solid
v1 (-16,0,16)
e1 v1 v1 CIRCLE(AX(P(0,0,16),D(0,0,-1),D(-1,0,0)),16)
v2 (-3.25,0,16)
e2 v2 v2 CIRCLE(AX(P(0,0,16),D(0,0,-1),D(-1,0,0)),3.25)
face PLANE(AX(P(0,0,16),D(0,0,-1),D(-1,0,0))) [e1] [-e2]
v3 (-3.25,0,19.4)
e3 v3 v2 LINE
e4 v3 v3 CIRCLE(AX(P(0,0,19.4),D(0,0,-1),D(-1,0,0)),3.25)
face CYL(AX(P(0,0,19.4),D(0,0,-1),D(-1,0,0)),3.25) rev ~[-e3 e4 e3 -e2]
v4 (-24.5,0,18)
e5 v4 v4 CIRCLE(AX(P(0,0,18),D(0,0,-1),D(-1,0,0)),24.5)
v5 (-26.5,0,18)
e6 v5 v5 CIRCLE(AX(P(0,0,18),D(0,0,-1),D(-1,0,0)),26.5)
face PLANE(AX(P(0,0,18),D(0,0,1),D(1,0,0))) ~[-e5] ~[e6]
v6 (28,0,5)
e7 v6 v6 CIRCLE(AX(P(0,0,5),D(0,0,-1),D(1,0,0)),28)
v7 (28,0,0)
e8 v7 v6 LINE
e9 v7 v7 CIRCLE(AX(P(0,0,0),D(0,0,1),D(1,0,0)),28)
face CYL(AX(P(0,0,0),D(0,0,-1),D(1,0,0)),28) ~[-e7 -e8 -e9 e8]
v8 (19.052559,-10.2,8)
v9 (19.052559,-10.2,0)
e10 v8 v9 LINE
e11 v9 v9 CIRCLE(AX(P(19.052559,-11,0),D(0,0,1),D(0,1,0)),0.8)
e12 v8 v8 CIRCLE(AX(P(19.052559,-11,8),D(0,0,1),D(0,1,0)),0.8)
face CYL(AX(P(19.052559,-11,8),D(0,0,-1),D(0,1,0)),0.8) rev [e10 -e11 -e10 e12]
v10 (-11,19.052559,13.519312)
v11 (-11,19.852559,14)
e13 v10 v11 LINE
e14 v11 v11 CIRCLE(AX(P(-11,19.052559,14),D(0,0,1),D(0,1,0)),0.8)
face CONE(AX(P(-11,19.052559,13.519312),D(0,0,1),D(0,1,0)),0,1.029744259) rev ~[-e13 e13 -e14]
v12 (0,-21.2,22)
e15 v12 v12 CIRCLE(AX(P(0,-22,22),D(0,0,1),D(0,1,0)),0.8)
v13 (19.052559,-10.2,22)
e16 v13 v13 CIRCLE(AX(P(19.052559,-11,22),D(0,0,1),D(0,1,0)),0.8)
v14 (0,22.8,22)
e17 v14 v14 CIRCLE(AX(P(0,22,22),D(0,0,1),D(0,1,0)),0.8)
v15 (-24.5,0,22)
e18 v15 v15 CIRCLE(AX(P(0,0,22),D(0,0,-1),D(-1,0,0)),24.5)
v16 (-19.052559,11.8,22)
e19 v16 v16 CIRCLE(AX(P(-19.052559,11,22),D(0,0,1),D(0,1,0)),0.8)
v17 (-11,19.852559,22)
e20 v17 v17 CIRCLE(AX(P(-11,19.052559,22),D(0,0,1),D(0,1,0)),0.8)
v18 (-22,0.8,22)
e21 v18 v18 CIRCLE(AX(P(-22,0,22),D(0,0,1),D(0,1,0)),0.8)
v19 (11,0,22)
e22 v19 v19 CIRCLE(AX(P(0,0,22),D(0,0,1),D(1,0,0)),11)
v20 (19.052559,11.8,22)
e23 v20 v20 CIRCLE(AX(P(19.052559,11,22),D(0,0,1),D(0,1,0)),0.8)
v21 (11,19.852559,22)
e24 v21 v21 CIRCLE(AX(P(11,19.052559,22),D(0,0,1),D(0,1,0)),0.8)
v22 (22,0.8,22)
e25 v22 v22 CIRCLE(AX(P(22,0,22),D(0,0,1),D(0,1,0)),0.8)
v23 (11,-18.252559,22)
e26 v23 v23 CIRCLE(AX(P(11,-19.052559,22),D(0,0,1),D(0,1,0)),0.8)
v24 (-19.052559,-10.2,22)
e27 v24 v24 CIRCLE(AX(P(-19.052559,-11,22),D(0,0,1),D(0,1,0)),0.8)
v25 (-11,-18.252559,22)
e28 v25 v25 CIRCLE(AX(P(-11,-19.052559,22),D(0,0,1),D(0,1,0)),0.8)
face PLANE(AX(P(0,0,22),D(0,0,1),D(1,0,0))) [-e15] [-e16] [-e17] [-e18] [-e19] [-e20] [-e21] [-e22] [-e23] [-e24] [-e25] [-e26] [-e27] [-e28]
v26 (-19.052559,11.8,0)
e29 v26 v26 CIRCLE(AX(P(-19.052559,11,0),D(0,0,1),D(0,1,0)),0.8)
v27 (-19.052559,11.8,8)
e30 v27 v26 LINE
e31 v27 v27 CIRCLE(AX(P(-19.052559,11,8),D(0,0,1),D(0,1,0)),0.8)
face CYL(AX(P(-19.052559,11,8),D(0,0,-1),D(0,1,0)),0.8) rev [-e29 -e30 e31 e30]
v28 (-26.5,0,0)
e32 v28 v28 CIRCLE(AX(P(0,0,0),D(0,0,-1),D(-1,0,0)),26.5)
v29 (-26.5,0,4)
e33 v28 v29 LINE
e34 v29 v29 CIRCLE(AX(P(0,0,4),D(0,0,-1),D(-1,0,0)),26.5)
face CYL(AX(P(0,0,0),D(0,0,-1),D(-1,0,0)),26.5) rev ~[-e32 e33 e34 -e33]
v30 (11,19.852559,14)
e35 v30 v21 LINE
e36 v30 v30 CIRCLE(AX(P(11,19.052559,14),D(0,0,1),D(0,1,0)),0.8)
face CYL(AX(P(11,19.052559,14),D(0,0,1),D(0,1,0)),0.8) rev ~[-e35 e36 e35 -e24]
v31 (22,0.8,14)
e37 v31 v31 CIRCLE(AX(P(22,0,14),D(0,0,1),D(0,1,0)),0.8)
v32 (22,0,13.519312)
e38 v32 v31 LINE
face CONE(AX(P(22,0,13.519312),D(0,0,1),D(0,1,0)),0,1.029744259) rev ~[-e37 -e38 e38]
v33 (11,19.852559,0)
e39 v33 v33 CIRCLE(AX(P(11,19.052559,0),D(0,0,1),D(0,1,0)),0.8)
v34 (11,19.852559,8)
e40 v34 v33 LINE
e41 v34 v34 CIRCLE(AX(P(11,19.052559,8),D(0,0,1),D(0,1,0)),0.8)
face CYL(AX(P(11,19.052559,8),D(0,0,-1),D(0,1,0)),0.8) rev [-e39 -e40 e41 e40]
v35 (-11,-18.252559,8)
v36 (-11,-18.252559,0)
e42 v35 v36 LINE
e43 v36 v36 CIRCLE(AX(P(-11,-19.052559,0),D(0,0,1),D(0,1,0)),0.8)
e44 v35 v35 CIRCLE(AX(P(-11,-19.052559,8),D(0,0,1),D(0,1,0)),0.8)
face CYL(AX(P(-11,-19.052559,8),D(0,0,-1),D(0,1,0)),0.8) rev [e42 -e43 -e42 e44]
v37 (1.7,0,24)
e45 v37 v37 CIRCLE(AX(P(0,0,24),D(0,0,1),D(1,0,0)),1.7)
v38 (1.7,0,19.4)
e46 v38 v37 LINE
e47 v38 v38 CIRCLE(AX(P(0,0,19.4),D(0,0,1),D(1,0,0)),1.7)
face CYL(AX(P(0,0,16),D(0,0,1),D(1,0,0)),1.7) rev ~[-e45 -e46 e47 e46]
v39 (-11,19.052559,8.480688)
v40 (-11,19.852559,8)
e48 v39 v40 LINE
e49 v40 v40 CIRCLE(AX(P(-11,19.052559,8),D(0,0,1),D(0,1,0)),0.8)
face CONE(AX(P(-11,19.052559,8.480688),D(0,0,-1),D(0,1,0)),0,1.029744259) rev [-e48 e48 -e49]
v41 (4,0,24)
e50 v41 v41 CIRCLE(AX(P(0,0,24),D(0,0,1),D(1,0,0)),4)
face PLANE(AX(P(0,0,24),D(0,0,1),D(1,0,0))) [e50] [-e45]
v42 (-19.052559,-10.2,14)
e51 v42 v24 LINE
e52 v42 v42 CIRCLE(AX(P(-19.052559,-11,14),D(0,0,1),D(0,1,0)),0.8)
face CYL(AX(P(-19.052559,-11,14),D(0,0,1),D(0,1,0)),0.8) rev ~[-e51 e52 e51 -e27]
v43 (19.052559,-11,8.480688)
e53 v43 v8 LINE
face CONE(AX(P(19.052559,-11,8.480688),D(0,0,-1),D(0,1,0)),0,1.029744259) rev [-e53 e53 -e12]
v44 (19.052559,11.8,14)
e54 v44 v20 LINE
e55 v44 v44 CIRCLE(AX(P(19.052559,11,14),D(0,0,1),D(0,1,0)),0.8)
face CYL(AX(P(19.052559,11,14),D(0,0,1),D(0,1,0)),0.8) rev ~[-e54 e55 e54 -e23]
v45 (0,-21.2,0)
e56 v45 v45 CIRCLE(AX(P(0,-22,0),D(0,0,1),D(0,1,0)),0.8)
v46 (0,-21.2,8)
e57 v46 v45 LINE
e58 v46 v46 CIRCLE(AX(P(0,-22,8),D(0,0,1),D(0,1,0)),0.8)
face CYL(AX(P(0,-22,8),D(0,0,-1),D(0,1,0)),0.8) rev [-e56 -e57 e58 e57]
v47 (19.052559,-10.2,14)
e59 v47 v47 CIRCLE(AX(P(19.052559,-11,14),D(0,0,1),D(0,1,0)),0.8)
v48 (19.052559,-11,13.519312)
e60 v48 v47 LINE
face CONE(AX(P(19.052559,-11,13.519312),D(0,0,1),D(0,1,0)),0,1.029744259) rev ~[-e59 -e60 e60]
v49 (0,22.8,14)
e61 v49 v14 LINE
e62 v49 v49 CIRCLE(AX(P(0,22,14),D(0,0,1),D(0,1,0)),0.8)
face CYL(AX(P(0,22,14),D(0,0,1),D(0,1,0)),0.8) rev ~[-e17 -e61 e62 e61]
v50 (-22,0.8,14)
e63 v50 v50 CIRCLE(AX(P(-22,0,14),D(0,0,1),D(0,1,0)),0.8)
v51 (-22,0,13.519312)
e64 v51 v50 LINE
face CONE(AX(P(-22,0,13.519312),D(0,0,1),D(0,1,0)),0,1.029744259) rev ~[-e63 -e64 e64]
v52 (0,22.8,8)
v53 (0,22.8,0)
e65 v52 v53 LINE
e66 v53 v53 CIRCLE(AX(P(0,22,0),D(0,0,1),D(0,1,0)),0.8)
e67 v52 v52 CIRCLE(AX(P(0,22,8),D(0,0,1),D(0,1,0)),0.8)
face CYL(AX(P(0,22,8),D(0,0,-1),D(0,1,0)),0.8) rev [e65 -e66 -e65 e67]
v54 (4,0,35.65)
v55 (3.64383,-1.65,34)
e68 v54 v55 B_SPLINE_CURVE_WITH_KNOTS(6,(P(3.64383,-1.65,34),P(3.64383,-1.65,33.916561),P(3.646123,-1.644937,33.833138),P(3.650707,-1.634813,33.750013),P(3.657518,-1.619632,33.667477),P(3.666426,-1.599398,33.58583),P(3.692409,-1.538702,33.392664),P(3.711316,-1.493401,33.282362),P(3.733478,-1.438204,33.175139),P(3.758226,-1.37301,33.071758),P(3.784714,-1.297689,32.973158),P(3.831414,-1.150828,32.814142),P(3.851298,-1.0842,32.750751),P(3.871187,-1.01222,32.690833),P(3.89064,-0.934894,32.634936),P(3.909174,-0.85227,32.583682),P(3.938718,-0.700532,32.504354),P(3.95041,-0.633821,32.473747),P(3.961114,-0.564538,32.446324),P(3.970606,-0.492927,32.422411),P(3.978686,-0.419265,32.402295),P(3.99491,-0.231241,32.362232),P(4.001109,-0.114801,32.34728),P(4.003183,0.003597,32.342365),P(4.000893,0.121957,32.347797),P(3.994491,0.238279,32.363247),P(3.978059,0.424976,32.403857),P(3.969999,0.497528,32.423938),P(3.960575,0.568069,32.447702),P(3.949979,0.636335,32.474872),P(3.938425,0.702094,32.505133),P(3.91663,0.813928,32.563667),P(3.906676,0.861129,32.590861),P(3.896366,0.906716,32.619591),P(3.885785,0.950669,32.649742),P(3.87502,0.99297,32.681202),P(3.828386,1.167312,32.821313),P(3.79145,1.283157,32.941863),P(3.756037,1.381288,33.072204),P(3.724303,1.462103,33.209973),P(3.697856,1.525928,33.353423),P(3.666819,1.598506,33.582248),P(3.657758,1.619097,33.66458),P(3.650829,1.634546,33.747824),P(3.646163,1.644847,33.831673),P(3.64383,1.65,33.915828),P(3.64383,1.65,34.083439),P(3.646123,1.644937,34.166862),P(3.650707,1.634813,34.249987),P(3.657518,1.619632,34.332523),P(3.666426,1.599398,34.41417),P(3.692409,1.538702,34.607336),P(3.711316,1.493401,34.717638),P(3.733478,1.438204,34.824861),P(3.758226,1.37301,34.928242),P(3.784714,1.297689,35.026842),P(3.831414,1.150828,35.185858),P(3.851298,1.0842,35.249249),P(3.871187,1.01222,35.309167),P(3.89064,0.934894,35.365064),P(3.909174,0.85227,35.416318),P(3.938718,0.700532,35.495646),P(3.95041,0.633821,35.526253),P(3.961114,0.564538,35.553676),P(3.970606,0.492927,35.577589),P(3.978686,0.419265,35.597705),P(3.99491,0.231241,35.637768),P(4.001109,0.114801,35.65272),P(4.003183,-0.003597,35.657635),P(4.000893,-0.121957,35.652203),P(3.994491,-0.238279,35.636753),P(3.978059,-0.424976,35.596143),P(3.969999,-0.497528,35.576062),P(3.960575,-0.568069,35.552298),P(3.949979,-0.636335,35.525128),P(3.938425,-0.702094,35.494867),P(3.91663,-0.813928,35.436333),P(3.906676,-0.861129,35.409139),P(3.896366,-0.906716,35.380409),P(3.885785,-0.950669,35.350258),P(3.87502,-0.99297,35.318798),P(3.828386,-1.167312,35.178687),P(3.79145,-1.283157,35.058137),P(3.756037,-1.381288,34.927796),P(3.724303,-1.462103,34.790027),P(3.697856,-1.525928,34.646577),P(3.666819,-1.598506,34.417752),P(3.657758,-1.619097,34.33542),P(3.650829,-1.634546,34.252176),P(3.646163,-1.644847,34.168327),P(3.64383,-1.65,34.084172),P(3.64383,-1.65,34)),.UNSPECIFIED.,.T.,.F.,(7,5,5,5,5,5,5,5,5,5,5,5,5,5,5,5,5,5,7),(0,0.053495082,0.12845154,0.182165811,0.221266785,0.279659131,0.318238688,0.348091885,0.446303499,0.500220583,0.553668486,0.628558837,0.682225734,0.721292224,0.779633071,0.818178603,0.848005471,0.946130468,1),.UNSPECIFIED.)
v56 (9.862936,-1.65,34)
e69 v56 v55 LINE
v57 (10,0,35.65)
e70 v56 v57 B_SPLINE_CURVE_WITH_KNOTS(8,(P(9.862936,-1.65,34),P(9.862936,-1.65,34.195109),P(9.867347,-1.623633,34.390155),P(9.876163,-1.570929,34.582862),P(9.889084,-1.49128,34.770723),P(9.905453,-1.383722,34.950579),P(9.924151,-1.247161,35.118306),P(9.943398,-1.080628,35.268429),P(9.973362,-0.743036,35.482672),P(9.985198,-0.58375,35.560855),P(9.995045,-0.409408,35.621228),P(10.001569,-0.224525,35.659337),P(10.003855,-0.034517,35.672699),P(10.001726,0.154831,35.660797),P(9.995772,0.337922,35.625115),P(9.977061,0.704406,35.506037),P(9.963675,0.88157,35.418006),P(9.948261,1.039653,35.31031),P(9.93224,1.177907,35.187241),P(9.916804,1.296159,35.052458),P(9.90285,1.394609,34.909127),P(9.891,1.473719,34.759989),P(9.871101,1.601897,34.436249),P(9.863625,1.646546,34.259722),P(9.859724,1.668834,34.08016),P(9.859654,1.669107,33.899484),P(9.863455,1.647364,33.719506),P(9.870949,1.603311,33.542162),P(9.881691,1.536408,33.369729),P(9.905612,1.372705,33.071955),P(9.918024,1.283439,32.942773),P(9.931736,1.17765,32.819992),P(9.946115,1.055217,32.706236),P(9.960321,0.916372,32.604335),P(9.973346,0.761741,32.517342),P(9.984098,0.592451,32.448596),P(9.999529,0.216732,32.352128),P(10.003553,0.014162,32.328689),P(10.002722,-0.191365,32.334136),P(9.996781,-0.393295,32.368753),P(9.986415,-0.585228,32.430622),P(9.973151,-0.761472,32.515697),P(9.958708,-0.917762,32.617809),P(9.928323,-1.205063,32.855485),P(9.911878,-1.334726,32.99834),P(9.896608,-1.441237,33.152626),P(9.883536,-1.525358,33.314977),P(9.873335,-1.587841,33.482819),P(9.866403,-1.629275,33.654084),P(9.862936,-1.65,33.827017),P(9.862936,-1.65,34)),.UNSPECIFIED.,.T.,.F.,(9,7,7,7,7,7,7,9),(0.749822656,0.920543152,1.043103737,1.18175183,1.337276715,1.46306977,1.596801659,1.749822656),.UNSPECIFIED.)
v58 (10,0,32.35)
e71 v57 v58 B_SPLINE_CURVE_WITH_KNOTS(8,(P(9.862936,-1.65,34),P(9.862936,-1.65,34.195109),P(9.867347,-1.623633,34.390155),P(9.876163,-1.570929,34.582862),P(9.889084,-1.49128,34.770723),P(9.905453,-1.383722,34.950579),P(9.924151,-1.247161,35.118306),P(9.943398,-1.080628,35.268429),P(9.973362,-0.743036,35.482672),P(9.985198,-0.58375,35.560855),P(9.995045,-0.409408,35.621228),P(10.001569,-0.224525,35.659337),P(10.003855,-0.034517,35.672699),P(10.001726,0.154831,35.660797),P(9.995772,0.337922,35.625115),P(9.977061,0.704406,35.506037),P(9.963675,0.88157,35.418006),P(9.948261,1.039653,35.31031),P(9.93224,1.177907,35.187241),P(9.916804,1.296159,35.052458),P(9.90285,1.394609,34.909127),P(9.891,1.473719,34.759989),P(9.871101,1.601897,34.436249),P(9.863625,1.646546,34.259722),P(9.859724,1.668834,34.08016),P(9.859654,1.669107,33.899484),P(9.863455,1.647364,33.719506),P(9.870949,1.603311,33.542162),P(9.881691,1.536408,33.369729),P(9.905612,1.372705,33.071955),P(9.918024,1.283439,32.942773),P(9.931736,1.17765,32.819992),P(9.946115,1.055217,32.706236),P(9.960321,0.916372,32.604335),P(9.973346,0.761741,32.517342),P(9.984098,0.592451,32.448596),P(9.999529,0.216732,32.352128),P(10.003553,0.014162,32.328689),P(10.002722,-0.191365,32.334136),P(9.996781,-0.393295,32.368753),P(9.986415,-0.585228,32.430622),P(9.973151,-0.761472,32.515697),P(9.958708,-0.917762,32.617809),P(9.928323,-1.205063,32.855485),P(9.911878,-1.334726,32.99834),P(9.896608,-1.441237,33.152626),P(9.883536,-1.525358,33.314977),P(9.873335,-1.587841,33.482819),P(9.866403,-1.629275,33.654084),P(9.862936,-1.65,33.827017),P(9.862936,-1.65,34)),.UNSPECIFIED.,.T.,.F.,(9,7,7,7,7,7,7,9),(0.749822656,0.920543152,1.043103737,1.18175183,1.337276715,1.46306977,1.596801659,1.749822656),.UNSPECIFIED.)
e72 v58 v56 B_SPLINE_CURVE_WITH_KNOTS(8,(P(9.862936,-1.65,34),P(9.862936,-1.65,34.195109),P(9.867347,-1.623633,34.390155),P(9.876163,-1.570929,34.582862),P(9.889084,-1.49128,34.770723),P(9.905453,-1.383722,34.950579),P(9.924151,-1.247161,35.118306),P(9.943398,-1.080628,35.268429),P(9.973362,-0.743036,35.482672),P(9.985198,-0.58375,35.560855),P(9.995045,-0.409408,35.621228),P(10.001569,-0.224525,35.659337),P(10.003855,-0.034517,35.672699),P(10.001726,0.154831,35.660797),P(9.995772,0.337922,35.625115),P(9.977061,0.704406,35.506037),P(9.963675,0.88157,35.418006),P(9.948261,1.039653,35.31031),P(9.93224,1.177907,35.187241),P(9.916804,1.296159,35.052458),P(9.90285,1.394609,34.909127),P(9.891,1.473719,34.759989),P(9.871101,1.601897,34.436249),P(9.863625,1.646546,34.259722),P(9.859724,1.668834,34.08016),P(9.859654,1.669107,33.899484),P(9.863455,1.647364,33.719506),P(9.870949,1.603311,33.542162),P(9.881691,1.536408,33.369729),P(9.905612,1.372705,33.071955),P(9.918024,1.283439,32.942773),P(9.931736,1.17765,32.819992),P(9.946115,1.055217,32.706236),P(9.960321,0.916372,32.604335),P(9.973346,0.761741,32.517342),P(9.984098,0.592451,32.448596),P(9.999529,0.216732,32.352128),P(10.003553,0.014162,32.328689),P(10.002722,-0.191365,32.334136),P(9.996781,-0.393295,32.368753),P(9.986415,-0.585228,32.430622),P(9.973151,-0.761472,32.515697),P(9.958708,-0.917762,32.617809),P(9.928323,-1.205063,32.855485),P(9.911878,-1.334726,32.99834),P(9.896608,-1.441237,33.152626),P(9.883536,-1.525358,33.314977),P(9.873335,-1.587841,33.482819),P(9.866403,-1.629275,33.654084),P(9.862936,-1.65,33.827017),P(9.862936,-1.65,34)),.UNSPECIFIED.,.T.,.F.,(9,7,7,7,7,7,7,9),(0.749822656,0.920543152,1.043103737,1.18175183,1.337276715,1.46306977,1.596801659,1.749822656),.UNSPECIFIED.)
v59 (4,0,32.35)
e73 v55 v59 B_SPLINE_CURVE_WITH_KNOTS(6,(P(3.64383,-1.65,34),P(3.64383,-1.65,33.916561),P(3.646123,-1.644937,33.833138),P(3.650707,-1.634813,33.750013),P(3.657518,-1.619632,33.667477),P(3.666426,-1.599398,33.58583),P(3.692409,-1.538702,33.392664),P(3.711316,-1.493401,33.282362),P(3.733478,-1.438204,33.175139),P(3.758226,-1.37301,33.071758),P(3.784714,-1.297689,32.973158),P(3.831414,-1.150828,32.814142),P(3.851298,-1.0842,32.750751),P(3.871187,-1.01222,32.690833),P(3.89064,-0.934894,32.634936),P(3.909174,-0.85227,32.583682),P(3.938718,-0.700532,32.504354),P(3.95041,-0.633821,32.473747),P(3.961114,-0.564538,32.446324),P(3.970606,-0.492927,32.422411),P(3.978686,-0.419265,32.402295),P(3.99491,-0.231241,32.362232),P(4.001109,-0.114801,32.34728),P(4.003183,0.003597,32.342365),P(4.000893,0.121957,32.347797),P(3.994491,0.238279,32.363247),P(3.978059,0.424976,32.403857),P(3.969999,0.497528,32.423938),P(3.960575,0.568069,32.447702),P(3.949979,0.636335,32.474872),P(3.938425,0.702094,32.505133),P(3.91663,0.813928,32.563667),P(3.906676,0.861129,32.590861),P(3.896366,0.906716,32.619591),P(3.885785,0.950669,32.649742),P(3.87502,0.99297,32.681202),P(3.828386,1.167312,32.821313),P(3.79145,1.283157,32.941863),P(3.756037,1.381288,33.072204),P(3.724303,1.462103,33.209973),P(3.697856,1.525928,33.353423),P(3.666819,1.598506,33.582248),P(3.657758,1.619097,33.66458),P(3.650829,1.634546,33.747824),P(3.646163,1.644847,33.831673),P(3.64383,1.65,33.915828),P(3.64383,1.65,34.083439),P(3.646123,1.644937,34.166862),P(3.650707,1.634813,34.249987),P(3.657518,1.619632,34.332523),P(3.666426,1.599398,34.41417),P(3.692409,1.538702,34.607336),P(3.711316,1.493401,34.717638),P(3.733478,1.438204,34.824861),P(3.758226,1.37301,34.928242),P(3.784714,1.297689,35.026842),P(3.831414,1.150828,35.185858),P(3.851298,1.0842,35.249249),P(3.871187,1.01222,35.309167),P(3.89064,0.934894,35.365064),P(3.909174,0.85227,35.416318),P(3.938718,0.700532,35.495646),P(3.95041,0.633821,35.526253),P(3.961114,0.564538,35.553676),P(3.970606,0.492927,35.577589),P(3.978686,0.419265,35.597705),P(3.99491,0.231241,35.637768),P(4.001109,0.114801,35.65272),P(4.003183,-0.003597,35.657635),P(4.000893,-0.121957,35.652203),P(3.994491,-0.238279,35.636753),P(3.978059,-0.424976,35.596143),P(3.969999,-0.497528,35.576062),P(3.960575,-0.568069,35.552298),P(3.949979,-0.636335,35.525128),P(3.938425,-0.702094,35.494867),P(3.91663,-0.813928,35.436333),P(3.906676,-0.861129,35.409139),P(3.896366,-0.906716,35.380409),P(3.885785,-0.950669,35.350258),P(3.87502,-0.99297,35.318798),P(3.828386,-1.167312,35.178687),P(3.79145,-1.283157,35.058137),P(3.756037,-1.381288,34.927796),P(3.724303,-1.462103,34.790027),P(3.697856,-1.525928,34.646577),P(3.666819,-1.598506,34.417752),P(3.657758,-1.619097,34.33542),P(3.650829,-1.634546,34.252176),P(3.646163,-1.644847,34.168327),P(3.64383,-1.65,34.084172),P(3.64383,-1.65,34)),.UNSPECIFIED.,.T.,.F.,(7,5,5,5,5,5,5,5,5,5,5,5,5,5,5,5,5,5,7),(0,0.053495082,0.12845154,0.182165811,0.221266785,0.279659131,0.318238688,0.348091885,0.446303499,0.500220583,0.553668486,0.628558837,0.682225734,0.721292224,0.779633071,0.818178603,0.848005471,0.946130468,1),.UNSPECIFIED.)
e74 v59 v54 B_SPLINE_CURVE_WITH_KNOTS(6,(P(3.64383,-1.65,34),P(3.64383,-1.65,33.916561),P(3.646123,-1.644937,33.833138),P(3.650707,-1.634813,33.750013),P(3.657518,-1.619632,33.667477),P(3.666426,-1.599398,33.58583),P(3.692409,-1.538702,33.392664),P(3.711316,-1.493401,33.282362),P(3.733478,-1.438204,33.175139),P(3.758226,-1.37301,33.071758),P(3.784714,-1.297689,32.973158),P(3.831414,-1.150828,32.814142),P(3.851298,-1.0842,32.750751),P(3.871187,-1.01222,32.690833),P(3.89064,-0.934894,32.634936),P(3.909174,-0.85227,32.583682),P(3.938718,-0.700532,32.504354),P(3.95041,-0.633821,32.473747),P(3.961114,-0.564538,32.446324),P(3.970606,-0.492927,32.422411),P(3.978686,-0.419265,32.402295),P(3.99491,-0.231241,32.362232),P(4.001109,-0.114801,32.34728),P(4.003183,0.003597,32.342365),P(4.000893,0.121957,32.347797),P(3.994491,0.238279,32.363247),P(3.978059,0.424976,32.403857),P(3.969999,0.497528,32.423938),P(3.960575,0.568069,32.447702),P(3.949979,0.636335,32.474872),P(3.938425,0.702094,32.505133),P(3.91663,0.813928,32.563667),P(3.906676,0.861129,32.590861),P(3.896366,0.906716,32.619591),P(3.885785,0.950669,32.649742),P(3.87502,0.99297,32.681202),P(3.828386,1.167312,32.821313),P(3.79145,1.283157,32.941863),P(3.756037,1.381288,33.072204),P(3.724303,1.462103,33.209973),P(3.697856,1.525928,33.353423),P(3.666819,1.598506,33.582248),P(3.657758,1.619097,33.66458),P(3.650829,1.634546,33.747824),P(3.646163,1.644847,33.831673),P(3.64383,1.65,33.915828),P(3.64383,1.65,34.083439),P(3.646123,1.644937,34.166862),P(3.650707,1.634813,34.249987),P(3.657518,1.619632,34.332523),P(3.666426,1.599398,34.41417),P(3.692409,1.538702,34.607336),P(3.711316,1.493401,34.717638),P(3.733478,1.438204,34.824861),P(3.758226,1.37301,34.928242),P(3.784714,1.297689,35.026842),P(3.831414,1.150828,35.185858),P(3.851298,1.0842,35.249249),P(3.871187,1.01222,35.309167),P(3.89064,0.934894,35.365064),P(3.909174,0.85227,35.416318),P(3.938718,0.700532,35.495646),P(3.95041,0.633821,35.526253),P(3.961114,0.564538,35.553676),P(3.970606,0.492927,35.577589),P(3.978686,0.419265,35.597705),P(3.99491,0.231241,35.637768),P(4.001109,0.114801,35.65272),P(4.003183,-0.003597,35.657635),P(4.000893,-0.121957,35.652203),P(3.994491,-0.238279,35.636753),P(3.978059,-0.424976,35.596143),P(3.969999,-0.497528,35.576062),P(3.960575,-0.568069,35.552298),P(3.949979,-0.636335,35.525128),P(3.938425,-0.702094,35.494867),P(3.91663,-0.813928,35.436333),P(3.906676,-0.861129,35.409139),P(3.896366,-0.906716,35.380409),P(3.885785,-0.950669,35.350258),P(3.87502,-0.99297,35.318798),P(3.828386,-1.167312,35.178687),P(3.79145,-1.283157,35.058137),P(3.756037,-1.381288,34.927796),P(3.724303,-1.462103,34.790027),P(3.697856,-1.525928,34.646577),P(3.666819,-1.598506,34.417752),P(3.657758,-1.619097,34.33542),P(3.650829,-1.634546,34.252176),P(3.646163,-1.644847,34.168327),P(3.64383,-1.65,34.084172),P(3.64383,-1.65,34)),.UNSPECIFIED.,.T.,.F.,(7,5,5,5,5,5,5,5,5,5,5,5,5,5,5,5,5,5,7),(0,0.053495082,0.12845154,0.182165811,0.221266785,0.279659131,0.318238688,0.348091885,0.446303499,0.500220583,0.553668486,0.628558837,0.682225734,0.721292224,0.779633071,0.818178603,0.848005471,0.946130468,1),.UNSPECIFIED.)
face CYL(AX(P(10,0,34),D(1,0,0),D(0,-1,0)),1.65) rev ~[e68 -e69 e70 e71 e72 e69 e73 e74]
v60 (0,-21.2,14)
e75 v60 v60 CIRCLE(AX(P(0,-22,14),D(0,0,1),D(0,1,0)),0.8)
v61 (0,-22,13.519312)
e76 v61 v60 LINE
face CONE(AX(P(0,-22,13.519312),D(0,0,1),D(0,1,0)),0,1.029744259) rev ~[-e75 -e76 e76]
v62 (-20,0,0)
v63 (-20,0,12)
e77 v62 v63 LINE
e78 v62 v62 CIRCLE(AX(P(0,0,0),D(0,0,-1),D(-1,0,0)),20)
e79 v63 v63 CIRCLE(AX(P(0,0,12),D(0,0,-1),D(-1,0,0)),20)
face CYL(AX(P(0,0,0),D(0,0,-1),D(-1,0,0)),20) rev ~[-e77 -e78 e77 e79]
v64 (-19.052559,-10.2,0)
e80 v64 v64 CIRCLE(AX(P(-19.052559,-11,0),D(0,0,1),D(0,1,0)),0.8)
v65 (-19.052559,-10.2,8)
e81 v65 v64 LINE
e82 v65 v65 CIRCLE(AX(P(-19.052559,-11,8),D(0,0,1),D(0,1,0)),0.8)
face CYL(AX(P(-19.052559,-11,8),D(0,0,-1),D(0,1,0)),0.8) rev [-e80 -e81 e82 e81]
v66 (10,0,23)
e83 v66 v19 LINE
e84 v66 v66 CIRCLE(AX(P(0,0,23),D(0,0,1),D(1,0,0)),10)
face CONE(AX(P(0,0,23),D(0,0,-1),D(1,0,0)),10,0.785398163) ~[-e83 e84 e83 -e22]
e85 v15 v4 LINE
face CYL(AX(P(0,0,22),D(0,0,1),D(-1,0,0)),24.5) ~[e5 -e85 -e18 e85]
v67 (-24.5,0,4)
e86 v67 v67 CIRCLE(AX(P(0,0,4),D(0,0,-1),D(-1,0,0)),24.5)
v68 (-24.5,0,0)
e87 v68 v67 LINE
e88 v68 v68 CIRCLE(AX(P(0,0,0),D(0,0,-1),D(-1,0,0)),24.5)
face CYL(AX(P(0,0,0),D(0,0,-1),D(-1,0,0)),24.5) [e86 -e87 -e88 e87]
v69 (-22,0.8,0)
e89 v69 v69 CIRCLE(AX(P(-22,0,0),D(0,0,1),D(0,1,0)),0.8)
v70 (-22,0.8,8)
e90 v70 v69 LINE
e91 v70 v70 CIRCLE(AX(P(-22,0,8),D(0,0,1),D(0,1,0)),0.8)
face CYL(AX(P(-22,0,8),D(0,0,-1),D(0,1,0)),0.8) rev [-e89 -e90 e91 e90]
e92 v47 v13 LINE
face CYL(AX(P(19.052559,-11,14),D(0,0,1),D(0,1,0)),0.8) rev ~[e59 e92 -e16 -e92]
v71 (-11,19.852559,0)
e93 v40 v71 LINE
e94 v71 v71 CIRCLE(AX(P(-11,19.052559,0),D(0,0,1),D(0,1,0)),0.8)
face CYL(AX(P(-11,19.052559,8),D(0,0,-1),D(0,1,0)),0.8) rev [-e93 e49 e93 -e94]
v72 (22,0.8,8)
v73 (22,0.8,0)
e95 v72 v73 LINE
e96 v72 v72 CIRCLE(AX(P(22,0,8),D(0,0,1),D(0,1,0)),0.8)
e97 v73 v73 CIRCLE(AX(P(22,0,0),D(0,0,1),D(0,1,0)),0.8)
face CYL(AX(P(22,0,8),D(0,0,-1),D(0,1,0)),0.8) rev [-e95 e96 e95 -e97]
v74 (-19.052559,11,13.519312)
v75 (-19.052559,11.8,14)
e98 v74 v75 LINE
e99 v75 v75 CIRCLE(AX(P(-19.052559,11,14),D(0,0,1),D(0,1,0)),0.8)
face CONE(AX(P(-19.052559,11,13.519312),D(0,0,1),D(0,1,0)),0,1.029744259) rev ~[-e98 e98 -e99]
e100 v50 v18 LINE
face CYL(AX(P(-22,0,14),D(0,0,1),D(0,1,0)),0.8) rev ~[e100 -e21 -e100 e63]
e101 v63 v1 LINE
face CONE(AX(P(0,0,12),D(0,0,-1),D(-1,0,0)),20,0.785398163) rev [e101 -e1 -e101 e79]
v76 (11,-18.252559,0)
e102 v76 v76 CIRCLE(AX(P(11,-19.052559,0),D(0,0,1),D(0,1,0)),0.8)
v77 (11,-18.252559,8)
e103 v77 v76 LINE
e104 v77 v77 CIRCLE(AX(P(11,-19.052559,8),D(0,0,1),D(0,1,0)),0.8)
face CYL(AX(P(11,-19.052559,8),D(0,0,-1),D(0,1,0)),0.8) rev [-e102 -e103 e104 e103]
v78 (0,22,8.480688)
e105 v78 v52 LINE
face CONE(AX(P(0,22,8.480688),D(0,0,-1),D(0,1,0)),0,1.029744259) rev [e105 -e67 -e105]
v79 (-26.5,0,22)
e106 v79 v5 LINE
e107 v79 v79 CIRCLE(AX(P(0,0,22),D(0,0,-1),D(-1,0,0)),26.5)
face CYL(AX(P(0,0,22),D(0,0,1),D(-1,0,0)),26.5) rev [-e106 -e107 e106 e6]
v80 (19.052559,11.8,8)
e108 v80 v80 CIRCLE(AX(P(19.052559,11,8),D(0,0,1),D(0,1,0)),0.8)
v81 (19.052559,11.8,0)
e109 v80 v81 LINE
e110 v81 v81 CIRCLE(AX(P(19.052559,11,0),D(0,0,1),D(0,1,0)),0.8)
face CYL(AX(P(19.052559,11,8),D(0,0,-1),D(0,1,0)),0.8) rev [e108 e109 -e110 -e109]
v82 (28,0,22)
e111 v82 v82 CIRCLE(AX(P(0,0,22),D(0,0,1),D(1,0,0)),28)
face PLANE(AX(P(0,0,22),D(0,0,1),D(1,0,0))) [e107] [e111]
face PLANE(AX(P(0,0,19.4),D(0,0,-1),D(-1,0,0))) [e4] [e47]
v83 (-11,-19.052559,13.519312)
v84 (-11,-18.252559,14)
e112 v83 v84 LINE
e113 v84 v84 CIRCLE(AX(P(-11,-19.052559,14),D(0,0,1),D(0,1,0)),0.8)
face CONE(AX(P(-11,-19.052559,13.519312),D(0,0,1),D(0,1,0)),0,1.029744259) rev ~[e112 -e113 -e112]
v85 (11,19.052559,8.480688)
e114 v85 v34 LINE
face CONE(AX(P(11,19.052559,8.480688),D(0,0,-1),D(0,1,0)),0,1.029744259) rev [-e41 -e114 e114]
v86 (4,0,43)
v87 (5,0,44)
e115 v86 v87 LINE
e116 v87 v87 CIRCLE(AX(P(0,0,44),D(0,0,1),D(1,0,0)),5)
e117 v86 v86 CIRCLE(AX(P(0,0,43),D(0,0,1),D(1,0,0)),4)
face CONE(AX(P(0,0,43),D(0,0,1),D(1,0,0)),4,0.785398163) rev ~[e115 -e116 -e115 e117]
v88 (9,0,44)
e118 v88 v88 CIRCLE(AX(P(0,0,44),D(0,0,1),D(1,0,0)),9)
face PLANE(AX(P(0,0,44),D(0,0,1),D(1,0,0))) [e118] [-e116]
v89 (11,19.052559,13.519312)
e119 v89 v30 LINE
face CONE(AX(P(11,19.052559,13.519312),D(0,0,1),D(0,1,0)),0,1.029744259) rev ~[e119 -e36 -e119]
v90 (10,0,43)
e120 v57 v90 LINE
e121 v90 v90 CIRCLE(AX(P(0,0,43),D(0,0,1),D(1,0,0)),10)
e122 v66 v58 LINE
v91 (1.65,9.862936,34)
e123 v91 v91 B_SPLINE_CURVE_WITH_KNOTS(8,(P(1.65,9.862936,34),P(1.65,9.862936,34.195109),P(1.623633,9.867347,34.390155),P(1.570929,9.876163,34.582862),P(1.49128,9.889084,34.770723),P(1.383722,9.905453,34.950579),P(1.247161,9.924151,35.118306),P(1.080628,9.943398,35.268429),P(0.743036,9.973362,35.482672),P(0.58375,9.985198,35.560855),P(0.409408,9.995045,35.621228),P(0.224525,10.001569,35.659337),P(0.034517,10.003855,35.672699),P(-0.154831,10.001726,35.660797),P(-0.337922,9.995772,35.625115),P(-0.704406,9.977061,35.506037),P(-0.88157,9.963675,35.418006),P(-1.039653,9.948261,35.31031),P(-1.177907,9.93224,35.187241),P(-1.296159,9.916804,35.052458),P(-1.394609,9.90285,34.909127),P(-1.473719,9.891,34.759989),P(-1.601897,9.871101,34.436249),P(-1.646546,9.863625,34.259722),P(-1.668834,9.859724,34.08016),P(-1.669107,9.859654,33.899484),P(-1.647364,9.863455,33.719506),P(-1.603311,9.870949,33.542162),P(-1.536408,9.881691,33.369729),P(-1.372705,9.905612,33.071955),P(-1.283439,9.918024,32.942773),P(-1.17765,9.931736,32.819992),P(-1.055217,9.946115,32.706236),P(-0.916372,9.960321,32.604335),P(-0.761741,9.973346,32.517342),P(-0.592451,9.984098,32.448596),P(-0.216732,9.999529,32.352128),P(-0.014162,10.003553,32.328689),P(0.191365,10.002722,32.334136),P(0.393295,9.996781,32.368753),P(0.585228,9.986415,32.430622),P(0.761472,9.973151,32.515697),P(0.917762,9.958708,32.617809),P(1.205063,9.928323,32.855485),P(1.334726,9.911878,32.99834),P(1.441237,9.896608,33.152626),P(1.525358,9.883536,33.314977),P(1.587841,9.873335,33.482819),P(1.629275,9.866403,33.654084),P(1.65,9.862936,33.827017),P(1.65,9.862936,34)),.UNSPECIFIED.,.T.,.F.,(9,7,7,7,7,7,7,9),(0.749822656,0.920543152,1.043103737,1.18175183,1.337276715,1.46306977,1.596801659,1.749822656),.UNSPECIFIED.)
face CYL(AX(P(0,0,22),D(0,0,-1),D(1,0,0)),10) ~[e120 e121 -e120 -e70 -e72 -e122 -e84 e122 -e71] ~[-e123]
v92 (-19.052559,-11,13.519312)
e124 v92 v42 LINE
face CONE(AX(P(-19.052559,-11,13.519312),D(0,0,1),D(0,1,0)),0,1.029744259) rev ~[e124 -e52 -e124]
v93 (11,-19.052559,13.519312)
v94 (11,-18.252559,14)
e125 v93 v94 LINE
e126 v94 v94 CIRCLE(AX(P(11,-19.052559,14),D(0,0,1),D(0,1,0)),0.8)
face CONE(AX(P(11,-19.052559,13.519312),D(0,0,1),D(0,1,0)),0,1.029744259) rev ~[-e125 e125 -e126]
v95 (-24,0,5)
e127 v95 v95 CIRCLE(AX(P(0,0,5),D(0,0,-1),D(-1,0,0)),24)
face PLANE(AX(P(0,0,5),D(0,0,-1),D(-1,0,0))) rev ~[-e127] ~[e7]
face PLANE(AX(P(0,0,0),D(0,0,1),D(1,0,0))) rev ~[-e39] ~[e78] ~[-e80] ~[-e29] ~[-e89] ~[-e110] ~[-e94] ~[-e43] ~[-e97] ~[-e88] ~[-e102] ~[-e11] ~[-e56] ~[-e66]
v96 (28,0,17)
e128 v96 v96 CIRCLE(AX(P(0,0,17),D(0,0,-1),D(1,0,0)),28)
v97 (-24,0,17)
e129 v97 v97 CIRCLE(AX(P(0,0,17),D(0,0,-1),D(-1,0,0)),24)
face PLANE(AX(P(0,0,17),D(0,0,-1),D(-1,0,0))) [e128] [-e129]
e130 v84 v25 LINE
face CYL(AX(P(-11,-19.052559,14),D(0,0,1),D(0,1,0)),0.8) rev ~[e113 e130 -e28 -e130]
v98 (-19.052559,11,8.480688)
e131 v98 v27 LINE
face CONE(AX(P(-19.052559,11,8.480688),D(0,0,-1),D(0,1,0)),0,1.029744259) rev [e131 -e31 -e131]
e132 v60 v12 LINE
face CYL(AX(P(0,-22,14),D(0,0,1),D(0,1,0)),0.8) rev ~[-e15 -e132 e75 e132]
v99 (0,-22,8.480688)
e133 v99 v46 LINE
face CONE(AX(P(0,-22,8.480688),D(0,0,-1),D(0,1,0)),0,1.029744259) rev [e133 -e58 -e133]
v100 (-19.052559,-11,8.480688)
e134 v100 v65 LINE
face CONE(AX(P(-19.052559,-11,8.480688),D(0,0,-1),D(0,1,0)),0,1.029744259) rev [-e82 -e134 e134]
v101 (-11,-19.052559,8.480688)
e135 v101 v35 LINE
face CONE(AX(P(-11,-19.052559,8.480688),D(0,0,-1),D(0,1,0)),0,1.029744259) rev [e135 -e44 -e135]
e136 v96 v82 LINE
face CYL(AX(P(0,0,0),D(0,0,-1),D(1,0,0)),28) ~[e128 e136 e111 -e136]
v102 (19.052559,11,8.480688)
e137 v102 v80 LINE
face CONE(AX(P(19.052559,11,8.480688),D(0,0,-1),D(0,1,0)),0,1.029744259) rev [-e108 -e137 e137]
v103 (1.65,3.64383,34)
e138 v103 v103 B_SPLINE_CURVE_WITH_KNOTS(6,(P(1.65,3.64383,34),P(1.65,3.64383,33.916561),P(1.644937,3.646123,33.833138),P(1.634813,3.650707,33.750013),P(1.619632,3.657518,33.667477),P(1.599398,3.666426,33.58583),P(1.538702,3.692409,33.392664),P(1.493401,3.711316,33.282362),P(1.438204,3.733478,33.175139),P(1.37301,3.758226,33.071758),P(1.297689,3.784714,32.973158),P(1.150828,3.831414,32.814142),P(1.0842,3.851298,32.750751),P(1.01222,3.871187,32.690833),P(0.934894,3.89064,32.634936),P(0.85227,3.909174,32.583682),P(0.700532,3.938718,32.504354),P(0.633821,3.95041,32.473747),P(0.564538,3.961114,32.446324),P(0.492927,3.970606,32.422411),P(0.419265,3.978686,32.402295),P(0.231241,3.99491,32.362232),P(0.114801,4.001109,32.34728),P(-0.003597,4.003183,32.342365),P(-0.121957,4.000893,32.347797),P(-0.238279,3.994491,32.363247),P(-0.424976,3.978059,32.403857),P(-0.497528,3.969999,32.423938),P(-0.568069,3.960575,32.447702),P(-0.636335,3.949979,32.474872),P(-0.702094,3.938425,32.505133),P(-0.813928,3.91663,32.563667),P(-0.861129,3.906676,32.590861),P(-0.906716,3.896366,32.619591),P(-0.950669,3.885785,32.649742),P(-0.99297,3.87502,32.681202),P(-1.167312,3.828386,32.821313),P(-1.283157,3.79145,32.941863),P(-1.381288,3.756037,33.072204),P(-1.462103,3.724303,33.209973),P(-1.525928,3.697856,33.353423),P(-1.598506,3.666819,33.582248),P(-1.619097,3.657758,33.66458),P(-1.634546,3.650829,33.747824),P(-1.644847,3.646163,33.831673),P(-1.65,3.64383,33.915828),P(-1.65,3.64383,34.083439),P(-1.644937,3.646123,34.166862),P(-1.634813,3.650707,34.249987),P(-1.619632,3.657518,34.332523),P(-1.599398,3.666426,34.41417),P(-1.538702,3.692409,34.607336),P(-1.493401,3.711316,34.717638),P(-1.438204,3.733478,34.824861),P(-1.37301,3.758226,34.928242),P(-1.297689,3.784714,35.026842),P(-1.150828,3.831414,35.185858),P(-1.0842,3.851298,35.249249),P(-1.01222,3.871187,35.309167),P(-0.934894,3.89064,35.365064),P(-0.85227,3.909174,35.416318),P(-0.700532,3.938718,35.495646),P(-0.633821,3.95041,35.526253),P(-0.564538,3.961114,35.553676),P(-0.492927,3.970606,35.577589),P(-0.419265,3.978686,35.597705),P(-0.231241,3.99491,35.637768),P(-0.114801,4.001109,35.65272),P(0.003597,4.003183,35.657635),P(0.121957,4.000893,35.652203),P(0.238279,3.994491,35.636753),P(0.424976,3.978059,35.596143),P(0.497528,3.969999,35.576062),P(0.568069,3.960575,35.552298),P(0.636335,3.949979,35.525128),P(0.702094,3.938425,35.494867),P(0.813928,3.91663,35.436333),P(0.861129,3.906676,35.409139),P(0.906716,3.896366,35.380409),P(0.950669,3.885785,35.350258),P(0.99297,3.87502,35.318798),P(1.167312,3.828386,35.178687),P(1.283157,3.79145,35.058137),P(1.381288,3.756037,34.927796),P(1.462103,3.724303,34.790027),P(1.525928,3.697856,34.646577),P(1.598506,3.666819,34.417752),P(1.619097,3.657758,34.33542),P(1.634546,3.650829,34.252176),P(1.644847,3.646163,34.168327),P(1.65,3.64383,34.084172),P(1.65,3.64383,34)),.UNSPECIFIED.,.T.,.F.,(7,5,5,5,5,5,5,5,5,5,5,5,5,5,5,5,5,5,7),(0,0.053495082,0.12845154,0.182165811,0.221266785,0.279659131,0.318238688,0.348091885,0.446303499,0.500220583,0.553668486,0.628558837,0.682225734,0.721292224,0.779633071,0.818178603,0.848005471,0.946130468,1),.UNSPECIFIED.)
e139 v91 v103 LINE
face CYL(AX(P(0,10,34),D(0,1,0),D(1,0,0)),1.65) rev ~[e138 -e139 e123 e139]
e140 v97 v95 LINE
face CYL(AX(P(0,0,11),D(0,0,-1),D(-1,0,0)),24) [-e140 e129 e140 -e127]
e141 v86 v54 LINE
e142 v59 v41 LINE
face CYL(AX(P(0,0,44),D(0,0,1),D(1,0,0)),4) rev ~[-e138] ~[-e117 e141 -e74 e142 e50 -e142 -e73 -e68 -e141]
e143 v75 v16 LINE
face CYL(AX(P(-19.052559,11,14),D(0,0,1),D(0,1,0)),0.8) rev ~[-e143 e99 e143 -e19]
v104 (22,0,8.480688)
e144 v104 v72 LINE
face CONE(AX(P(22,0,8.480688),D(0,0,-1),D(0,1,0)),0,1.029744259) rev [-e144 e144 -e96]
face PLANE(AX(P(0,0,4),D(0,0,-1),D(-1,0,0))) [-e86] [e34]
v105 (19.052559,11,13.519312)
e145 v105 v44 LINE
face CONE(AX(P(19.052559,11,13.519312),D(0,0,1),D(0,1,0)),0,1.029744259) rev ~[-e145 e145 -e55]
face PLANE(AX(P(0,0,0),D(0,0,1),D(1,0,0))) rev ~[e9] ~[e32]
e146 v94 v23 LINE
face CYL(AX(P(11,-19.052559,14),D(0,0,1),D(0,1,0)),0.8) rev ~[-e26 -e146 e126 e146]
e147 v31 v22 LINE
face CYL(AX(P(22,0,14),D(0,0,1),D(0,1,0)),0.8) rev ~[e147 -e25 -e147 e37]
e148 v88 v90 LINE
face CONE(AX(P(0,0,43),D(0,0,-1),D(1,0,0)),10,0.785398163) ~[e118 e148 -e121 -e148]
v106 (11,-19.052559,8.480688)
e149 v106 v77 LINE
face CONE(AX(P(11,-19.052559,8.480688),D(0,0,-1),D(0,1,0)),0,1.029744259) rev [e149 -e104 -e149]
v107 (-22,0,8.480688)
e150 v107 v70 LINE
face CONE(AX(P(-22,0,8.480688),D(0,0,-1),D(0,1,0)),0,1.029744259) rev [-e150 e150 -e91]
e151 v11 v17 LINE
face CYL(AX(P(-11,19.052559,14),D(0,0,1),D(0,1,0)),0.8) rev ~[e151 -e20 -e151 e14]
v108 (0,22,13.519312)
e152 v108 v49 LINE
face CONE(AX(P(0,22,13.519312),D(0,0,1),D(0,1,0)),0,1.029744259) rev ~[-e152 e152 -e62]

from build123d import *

# Parameters (mm, degrees)
SKETCH1_R                                           = 28
BOSS_EXTRUDE1_DEPTH                                 = 22
SKETCH2_R                                           = 10
BOSS_EXTRUDE2_DEPTH                                 = 22
SKETCH3_R                                           = 20
CUT_EXTRUDE1_DEPTH                                  = 16
CHAMFER1_SIZE                                       = 4
SKETCH4_R                                           = 4
CUT_EXTRUDE2_DEPTH                                  = 20
CBORE_FOR_M3_HEX_SOCKET_HEAD_CAP_SCREW1_D           = 3.4
CBORE_FOR_M3_HEX_SOCKET_HEAD_CAP_SCREW1_CBORE_D     = 6.5
CBORE_FOR_M3_HEX_SOCKET_HEAD_CAP_SCREW1_CBORE_DEPTH = 3.4
SKETCH7_R                                           = 26.5
SKETCH7_R_2                                         = 24.5
CUT_EXTRUDE3_DEPTH                                  = 4
M2_TAPPED_HOLE1_AT_2_COUNT                          = 2
M2_TAPPED_HOLE1_AT_2_PITCH                          = 11.388037985
M2_TAPPED_HOLE1_AT_3_COUNT                          = 2
M2_TAPPED_HOLE1_AT_3_PITCH                          = 22
M2_TAPPED_HOLE1_AT_4_COUNT                          = 2
M2_TAPPED_HOLE1_AT_4_PITCH                          = 31.112698372
M2_TAPPED_HOLE1_AT_5_COUNT                          = 2
M2_TAPPED_HOLE1_AT_5_PITCH                          = 38.105117767
M2_TAPPED_HOLE1_AT_6_COUNT                          = 2
M2_TAPPED_HOLE1_AT_6_PITCH                          = 42.500736357
M2_TAPPED_HOLE1_AT_7_COUNT                          = 2
M2_TAPPED_HOLE1_AT_7_PITCH                          = 44
M2_TAPPED_HOLE1_AT_8_COUNT                          = 2
M2_TAPPED_HOLE1_AT_8_PITCH                          = 42.500736357
M2_TAPPED_HOLE1_AT_9_COUNT                          = 2
M2_TAPPED_HOLE1_AT_9_PITCH                          = 38.105117767
M2_TAPPED_HOLE1_AT_10_COUNT                         = 2
M2_TAPPED_HOLE1_AT_10_PITCH                         = 31.112698372
M2_TAPPED_HOLE1_AT_11_COUNT                         = 2
M2_TAPPED_HOLE1_AT_11_PITCH                         = 22
M2_TAPPED_HOLE1_AT_12_COUNT                         = 2
M2_TAPPED_HOLE1_AT_12_PITCH                         = 11.388037985
SKETCH10_R                                          = 28
SKETCH10_R_2                                        = 24
CUT_EXTRUDE5_DEPTH                                  = 6
CUT_EXTRUDE5_DEPTH_BACK                             = 6
CHAMFER2_SIZE                                       = 1
M4_TAPPED_HOLE1_REACH                               = 60.172
M4_TAPPED_HOLE1_BORE_R                              = 1.65
CIRPATTERN1_COUNT                                   = 2
CIRPATTERN1_ANGLE                                   = 90


with BuildPart() as part:
    # Sketch1 → Boss-Extrude1 (new body)
    with BuildSketch(Plane.XY):
        Circle(SKETCH1_R)
    extrude(amount=BOSS_EXTRUDE1_DEPTH)

    # Sketch2 → Boss-Extrude2 (add)
    with BuildSketch(Plane.XY.offset(22)):
        Circle(SKETCH2_R)
    extrude(amount=BOSS_EXTRUDE2_DEPTH)

    # Sketch3 → Cut-Extrude1 (cut)
    with BuildSketch(Plane(origin=(0, 0, 0), x_dir=(-1, 0, 0), z_dir=(0, 0, -1))):
        Circle(SKETCH3_R)
    extrude(amount=-CUT_EXTRUDE1_DEPTH, mode=Mode.SUBTRACT)

    # Chamfer1
    chamfer1_edges = [part.edges().sort_by_distance(p)[0] for p in [
        (20, 0, 16),
    ]]
    chamfer(chamfer1_edges, length=CHAMFER1_SIZE)

    # Sketch4 → Cut-Extrude2 (cut)
    with BuildSketch(Plane.XY.offset(44)):
        Circle(SKETCH4_R)
    extrude(amount=-CUT_EXTRUDE2_DEPTH, mode=Mode.SUBTRACT)

    # CBORE for M3 Hex Socket Head Cap Screw1 (through all)
    with Locations(Plane(origin=(0, 0, 16), x_dir=(-1, 0, 0), z_dir=(0, 0, -1))):
        with Locations((0, 0)):
            CounterBoreHole(CBORE_FOR_M3_HEX_SOCKET_HEAD_CAP_SCREW1_D / 2, CBORE_FOR_M3_HEX_SOCKET_HEAD_CAP_SCREW1_CBORE_D / 2, CBORE_FOR_M3_HEX_SOCKET_HEAD_CAP_SCREW1_CBORE_DEPTH)

    # Sketch7 → Cut-Extrude3 (cut)
    with BuildSketch(Plane(origin=(0, 0, 0), x_dir=(-1, 0, 0), z_dir=(0, 0, -1))):
        Circle(SKETCH7_R)
        Circle(SKETCH7_R_2, mode=Mode.SUBTRACT)
    cut_extrude3 = extrude(amount=-CUT_EXTRUDE3_DEPTH, mode=Mode.SUBTRACT)

    # Mirror1: Cut-Extrude3 across plane
    add(cut_extrude3.mirror(Plane(origin=(0, 0, 11), x_dir=(1, 0, 0), z_dir=(0, 0, -1))), mode=Mode.SUBTRACT)

    # Sketch9 → M2 Tapped Hole1 (revolve, cut)
    with BuildSketch(Plane(origin=(0, 22, 0), x_dir=(0, 1, 0), z_dir=(1, 0, 0))):
        Polygon((0, 0), (0, 8.480688495), (0.8, 8), (0.8, 0), align=None)
    m2_tapped_hole1 = revolve(axis=Axis((0, 22, -6.35), (0, 0, 1)), mode=Mode.SUBTRACT)

    # M2 Tapped Hole1 at 2: M2 Tapped Hole1 ×2
    with Locations(*[Vector(-0.9659258262891051, -0.2588190451023836, 0) * (i * M2_TAPPED_HOLE1_AT_2_PITCH) for i in range(1, M2_TAPPED_HOLE1_AT_2_COUNT)]):
        add(m2_tapped_hole1, mode=Mode.SUBTRACT)

    # M2 Tapped Hole1 at 3: M2 Tapped Hole1 ×2
    with Locations(*[Vector(-0.8660254037845097, -0.4999999999998771, 0) * (i * M2_TAPPED_HOLE1_AT_3_PITCH) for i in range(1, M2_TAPPED_HOLE1_AT_3_COUNT)]):
        add(m2_tapped_hole1, mode=Mode.SUBTRACT)

    # M2 Tapped Hole1 at 4: M2 Tapped Hole1 ×2
    with Locations(*[Vector(-0.7071067811866479, -0.7071067811864472, 0) * (i * M2_TAPPED_HOLE1_AT_4_PITCH) for i in range(1, M2_TAPPED_HOLE1_AT_4_COUNT)]):
        add(m2_tapped_hole1, mode=Mode.SUBTRACT)

    # M2 Tapped Hole1 at 5: M2 Tapped Hole1 ×2
    with Locations(*[Vector(-0.500000000000123, -0.8660254037843677, 0) * (i * M2_TAPPED_HOLE1_AT_5_PITCH) for i in range(1, M2_TAPPED_HOLE1_AT_5_COUNT)]):
        add(m2_tapped_hole1, mode=Mode.SUBTRACT)

    # M2 Tapped Hole1 at 6: M2 Tapped Hole1 ×2
    with Locations(*[Vector(-0.2588190451026581, -0.9659258262890316, 0) * (i * M2_TAPPED_HOLE1_AT_6_PITCH) for i in range(1, M2_TAPPED_HOLE1_AT_6_COUNT)]):
        add(m2_tapped_hole1, mode=Mode.SUBTRACT)

    # M2 Tapped Hole1 at 7: M2 Tapped Hole1 ×2
    with Locations(*[(0, -i * M2_TAPPED_HOLE1_AT_7_PITCH, 0) for i in range(1, M2_TAPPED_HOLE1_AT_7_COUNT)]):
        add(m2_tapped_hole1, mode=Mode.SUBTRACT)

    # M2 Tapped Hole1 at 8: M2 Tapped Hole1 ×2
    with Locations(*[Vector(0.25881904510238346, -0.9659258262891051, 0) * (i * M2_TAPPED_HOLE1_AT_8_PITCH) for i in range(1, M2_TAPPED_HOLE1_AT_8_COUNT)]):
        add(m2_tapped_hole1, mode=Mode.SUBTRACT)

    # M2 Tapped Hole1 at 9: M2 Tapped Hole1 ×2
    with Locations(*[Vector(0.4999999999998768, -0.8660254037845098, 0) * (i * M2_TAPPED_HOLE1_AT_9_PITCH) for i in range(1, M2_TAPPED_HOLE1_AT_9_COUNT)]):
        add(m2_tapped_hole1, mode=Mode.SUBTRACT)

    # M2 Tapped Hole1 at 10: M2 Tapped Hole1 ×2
    with Locations(*[Vector(0.7071067811864471, -0.7071067811866479, 0) * (i * M2_TAPPED_HOLE1_AT_10_PITCH) for i in range(1, M2_TAPPED_HOLE1_AT_10_COUNT)]):
        add(m2_tapped_hole1, mode=Mode.SUBTRACT)

    # M2 Tapped Hole1 at 11: M2 Tapped Hole1 ×2
    with Locations(*[Vector(0.8660254037843675, -0.5000000000001233, 0) * (i * M2_TAPPED_HOLE1_AT_11_PITCH) for i in range(1, M2_TAPPED_HOLE1_AT_11_COUNT)]):
        add(m2_tapped_hole1, mode=Mode.SUBTRACT)

    # M2 Tapped Hole1 at 12: M2 Tapped Hole1 ×2
    with Locations(*[Vector(0.9659258262890317, -0.2588190451026578, 0) * (i * M2_TAPPED_HOLE1_AT_12_PITCH) for i in range(1, M2_TAPPED_HOLE1_AT_12_COUNT)]):
        add(m2_tapped_hole1, mode=Mode.SUBTRACT)

    # Sketch10 → Cut-Extrude5 (cut, two sides)
    with BuildSketch(Plane(origin=(0, 0, 11), x_dir=(-1, 0, 0), z_dir=(0, 0, -1))) as cut_extrude5_sk:
        Circle(SKETCH10_R)
        Circle(SKETCH10_R_2, mode=Mode.SUBTRACT)
    extrude(amount=CUT_EXTRUDE5_DEPTH, mode=Mode.SUBTRACT)
    extrude(cut_extrude5_sk.sketch, amount=-CUT_EXTRUDE5_DEPTH_BACK, mode=Mode.SUBTRACT)

    # Mirror2: M2 Tapped Hole1 across plane
    add(m2_tapped_hole1.mirror(Plane(origin=(0, 0, 11), x_dir=(1, 0, 0), z_dir=(0, 0, -1))), mode=Mode.SUBTRACT)

    # Mirror2 copy 1 sketch → Mirror2 copy 1 (revolve, cut)
    with BuildSketch(Plane(origin=(-11, 19.052558883, 22), x_dir=(0, 1, 0), z_dir=(1, 0, 0))):
        Polygon((0, 0), (0, -8.480688495), (0.8, -8), (0.8, 0), align=None)
    revolve(axis=Axis((-11, 19.052558883, 28.35), (0, 0, 1)), mode=Mode.SUBTRACT)

    # Mirror2 copy 2 sketch → Mirror2 copy 2 (revolve, cut)
    with BuildSketch(Plane(origin=(-19.052558883, 11, 22), x_dir=(0, 1, 0), z_dir=(1, 0, 0))):
        Polygon((0, 0), (0, -8.480688495), (0.8, -8), (0.8, 0), align=None)
    revolve(axis=Axis((-19.052558883, 11, 28.35), (0, 0, 1)), mode=Mode.SUBTRACT)

    # Mirror2 copy 3 sketch → Mirror2 copy 3 (revolve, cut)
    with BuildSketch(Plane(origin=(-22, 0, 22), x_dir=(0, 1, 0), z_dir=(1, 0, 0))):
        Polygon((0, 0), (0, -8.480688495), (0.8, -8), (0.8, 0), align=None)
    revolve(axis=Axis((-22, 0, 28.35), (0, 0, 1)), mode=Mode.SUBTRACT)

    # Mirror2 copy 4 sketch → Mirror2 copy 4 (revolve, cut)
    with BuildSketch(Plane(origin=(-19.052558883, -11, 22), x_dir=(0, 1, 0), z_dir=(1, 0, 0))):
        Polygon((0, 0), (0, -8.480688495), (0.8, -8), (0.8, 0), align=None)
    revolve(axis=Axis((-19.052558883, -11, 28.35), (0, 0, 1)), mode=Mode.SUBTRACT)

    # Mirror2 copy 5 sketch → Mirror2 copy 5 (revolve, cut)
    with BuildSketch(Plane(origin=(-11, -19.052558883, 22), x_dir=(0, 1, 0), z_dir=(1, 0, 0))):
        Polygon((0, 0), (0, -8.480688495), (0.8, -8), (0.8, 0), align=None)
    revolve(axis=Axis((-11, -19.052558883, 28.35), (0, 0, 1)), mode=Mode.SUBTRACT)

    # Mirror2 copy 6 sketch → Mirror2 copy 6 (revolve, cut)
    with BuildSketch(Plane(origin=(0, -22, 22), x_dir=(0, 1, 0), z_dir=(1, 0, 0))):
        Polygon((0, 0), (0, -8.480688495), (0.8, -8), (0.8, 0), align=None)
    revolve(axis=Axis((0, -22, 28.35), (0, 0, 1)), mode=Mode.SUBTRACT)

    # Mirror2 copy 7 sketch → Mirror2 copy 7 (revolve, cut)
    with BuildSketch(Plane(origin=(11, -19.052558883, 22), x_dir=(0, 1, 0), z_dir=(1, 0, 0))):
        Polygon((0, 0), (0, -8.480688495), (0.8, -8), (0.8, 0), align=None)
    revolve(axis=Axis((11, -19.052558883, 28.35), (0, 0, 1)), mode=Mode.SUBTRACT)

    # Mirror2 copy 8 sketch → Mirror2 copy 8 (revolve, cut)
    with BuildSketch(Plane(origin=(19.052558883, -11, 22), x_dir=(0, 1, 0), z_dir=(1, 0, 0))):
        Polygon((0, 0), (0, -8.480688495), (0.8, -8), (0.8, 0), align=None)
    revolve(axis=Axis((19.052558883, -11, 28.35), (0, 0, 1)), mode=Mode.SUBTRACT)

    # Mirror2 copy 9 sketch → Mirror2 copy 9 (revolve, cut)
    with BuildSketch(Plane(origin=(22, 0, 22), x_dir=(0, 1, 0), z_dir=(1, 0, 0))):
        Polygon((0, 0), (0, -8.480688495), (0.8, -8), (0.8, 0), align=None)
    revolve(axis=Axis((22, 0, 28.35), (0, 0, 1)), mode=Mode.SUBTRACT)

    # Mirror2 copy 10 sketch → Mirror2 copy 10 (revolve, cut)
    with BuildSketch(Plane(origin=(19.052558883, 11, 22), x_dir=(0, 1, 0), z_dir=(1, 0, 0))):
        Polygon((0, 0), (0, -8.480688495), (0.8, -8), (0.8, 0), align=None)
    revolve(axis=Axis((19.052558883, 11, 28.35), (0, 0, 1)), mode=Mode.SUBTRACT)

    # Mirror2 copy 11 sketch → Mirror2 copy 11 (revolve, cut)
    with BuildSketch(Plane(origin=(11, 19.052558883, 22), x_dir=(0, 1, 0), z_dir=(1, 0, 0))):
        Polygon((0, 0), (0, -8.480688495), (0.8, -8), (0.8, 0), align=None)
    revolve(axis=Axis((11, 19.052558883, 28.35), (0, 0, 1)), mode=Mode.SUBTRACT)

    # Chamfer2
    chamfer2_edges = [part.edges().sort_by_distance(p)[0] for p in [
        (-4, 0, 44),
        (-10, 0, 22),
        (-10, 0, 44),
    ]]
    chamfer(chamfer2_edges, length=CHAMFER2_SIZE)

    # M4 Tapped Hole1 bore (on position points) → M4 Tapped Hole1 (cut, up to next)
    with BuildSketch(Plane(origin=(0, 10, 34), x_dir=(1, 0, 0), z_dir=(0, 1, 0)), mode=Mode.PRIVATE) as m4_tapped_hole1_sk1:
        Circle(M4_TAPPED_HOLE1_BORE_R)
    m4_tapped_hole1_tool1 = extrude(m4_tapped_hole1_sk1.sketch, amount=-M4_TAPPED_HOLE1_REACH, mode=Mode.PRIVATE) & part.part
    m4_tapped_hole1 = m4_tapped_hole1_tool1.solids().sort_by_distance((0, 10, 34))[0]
    add(m4_tapped_hole1, mode=Mode.SUBTRACT)

    # CirPattern1: M4 Tapped Hole1 ×2 about axis
    cirpattern1_axis = Axis((0, 0, 24), (0, 0, -1))
    for i in range(1, CIRPATTERN1_COUNT):
        add(m4_tapped_hole1.rotate(cirpattern1_axis, i * CIRPATTERN1_ANGLE / (CIRPATTERN1_COUNT - 1)), mode=Mode.SUBTRACT)


solid = part.part
